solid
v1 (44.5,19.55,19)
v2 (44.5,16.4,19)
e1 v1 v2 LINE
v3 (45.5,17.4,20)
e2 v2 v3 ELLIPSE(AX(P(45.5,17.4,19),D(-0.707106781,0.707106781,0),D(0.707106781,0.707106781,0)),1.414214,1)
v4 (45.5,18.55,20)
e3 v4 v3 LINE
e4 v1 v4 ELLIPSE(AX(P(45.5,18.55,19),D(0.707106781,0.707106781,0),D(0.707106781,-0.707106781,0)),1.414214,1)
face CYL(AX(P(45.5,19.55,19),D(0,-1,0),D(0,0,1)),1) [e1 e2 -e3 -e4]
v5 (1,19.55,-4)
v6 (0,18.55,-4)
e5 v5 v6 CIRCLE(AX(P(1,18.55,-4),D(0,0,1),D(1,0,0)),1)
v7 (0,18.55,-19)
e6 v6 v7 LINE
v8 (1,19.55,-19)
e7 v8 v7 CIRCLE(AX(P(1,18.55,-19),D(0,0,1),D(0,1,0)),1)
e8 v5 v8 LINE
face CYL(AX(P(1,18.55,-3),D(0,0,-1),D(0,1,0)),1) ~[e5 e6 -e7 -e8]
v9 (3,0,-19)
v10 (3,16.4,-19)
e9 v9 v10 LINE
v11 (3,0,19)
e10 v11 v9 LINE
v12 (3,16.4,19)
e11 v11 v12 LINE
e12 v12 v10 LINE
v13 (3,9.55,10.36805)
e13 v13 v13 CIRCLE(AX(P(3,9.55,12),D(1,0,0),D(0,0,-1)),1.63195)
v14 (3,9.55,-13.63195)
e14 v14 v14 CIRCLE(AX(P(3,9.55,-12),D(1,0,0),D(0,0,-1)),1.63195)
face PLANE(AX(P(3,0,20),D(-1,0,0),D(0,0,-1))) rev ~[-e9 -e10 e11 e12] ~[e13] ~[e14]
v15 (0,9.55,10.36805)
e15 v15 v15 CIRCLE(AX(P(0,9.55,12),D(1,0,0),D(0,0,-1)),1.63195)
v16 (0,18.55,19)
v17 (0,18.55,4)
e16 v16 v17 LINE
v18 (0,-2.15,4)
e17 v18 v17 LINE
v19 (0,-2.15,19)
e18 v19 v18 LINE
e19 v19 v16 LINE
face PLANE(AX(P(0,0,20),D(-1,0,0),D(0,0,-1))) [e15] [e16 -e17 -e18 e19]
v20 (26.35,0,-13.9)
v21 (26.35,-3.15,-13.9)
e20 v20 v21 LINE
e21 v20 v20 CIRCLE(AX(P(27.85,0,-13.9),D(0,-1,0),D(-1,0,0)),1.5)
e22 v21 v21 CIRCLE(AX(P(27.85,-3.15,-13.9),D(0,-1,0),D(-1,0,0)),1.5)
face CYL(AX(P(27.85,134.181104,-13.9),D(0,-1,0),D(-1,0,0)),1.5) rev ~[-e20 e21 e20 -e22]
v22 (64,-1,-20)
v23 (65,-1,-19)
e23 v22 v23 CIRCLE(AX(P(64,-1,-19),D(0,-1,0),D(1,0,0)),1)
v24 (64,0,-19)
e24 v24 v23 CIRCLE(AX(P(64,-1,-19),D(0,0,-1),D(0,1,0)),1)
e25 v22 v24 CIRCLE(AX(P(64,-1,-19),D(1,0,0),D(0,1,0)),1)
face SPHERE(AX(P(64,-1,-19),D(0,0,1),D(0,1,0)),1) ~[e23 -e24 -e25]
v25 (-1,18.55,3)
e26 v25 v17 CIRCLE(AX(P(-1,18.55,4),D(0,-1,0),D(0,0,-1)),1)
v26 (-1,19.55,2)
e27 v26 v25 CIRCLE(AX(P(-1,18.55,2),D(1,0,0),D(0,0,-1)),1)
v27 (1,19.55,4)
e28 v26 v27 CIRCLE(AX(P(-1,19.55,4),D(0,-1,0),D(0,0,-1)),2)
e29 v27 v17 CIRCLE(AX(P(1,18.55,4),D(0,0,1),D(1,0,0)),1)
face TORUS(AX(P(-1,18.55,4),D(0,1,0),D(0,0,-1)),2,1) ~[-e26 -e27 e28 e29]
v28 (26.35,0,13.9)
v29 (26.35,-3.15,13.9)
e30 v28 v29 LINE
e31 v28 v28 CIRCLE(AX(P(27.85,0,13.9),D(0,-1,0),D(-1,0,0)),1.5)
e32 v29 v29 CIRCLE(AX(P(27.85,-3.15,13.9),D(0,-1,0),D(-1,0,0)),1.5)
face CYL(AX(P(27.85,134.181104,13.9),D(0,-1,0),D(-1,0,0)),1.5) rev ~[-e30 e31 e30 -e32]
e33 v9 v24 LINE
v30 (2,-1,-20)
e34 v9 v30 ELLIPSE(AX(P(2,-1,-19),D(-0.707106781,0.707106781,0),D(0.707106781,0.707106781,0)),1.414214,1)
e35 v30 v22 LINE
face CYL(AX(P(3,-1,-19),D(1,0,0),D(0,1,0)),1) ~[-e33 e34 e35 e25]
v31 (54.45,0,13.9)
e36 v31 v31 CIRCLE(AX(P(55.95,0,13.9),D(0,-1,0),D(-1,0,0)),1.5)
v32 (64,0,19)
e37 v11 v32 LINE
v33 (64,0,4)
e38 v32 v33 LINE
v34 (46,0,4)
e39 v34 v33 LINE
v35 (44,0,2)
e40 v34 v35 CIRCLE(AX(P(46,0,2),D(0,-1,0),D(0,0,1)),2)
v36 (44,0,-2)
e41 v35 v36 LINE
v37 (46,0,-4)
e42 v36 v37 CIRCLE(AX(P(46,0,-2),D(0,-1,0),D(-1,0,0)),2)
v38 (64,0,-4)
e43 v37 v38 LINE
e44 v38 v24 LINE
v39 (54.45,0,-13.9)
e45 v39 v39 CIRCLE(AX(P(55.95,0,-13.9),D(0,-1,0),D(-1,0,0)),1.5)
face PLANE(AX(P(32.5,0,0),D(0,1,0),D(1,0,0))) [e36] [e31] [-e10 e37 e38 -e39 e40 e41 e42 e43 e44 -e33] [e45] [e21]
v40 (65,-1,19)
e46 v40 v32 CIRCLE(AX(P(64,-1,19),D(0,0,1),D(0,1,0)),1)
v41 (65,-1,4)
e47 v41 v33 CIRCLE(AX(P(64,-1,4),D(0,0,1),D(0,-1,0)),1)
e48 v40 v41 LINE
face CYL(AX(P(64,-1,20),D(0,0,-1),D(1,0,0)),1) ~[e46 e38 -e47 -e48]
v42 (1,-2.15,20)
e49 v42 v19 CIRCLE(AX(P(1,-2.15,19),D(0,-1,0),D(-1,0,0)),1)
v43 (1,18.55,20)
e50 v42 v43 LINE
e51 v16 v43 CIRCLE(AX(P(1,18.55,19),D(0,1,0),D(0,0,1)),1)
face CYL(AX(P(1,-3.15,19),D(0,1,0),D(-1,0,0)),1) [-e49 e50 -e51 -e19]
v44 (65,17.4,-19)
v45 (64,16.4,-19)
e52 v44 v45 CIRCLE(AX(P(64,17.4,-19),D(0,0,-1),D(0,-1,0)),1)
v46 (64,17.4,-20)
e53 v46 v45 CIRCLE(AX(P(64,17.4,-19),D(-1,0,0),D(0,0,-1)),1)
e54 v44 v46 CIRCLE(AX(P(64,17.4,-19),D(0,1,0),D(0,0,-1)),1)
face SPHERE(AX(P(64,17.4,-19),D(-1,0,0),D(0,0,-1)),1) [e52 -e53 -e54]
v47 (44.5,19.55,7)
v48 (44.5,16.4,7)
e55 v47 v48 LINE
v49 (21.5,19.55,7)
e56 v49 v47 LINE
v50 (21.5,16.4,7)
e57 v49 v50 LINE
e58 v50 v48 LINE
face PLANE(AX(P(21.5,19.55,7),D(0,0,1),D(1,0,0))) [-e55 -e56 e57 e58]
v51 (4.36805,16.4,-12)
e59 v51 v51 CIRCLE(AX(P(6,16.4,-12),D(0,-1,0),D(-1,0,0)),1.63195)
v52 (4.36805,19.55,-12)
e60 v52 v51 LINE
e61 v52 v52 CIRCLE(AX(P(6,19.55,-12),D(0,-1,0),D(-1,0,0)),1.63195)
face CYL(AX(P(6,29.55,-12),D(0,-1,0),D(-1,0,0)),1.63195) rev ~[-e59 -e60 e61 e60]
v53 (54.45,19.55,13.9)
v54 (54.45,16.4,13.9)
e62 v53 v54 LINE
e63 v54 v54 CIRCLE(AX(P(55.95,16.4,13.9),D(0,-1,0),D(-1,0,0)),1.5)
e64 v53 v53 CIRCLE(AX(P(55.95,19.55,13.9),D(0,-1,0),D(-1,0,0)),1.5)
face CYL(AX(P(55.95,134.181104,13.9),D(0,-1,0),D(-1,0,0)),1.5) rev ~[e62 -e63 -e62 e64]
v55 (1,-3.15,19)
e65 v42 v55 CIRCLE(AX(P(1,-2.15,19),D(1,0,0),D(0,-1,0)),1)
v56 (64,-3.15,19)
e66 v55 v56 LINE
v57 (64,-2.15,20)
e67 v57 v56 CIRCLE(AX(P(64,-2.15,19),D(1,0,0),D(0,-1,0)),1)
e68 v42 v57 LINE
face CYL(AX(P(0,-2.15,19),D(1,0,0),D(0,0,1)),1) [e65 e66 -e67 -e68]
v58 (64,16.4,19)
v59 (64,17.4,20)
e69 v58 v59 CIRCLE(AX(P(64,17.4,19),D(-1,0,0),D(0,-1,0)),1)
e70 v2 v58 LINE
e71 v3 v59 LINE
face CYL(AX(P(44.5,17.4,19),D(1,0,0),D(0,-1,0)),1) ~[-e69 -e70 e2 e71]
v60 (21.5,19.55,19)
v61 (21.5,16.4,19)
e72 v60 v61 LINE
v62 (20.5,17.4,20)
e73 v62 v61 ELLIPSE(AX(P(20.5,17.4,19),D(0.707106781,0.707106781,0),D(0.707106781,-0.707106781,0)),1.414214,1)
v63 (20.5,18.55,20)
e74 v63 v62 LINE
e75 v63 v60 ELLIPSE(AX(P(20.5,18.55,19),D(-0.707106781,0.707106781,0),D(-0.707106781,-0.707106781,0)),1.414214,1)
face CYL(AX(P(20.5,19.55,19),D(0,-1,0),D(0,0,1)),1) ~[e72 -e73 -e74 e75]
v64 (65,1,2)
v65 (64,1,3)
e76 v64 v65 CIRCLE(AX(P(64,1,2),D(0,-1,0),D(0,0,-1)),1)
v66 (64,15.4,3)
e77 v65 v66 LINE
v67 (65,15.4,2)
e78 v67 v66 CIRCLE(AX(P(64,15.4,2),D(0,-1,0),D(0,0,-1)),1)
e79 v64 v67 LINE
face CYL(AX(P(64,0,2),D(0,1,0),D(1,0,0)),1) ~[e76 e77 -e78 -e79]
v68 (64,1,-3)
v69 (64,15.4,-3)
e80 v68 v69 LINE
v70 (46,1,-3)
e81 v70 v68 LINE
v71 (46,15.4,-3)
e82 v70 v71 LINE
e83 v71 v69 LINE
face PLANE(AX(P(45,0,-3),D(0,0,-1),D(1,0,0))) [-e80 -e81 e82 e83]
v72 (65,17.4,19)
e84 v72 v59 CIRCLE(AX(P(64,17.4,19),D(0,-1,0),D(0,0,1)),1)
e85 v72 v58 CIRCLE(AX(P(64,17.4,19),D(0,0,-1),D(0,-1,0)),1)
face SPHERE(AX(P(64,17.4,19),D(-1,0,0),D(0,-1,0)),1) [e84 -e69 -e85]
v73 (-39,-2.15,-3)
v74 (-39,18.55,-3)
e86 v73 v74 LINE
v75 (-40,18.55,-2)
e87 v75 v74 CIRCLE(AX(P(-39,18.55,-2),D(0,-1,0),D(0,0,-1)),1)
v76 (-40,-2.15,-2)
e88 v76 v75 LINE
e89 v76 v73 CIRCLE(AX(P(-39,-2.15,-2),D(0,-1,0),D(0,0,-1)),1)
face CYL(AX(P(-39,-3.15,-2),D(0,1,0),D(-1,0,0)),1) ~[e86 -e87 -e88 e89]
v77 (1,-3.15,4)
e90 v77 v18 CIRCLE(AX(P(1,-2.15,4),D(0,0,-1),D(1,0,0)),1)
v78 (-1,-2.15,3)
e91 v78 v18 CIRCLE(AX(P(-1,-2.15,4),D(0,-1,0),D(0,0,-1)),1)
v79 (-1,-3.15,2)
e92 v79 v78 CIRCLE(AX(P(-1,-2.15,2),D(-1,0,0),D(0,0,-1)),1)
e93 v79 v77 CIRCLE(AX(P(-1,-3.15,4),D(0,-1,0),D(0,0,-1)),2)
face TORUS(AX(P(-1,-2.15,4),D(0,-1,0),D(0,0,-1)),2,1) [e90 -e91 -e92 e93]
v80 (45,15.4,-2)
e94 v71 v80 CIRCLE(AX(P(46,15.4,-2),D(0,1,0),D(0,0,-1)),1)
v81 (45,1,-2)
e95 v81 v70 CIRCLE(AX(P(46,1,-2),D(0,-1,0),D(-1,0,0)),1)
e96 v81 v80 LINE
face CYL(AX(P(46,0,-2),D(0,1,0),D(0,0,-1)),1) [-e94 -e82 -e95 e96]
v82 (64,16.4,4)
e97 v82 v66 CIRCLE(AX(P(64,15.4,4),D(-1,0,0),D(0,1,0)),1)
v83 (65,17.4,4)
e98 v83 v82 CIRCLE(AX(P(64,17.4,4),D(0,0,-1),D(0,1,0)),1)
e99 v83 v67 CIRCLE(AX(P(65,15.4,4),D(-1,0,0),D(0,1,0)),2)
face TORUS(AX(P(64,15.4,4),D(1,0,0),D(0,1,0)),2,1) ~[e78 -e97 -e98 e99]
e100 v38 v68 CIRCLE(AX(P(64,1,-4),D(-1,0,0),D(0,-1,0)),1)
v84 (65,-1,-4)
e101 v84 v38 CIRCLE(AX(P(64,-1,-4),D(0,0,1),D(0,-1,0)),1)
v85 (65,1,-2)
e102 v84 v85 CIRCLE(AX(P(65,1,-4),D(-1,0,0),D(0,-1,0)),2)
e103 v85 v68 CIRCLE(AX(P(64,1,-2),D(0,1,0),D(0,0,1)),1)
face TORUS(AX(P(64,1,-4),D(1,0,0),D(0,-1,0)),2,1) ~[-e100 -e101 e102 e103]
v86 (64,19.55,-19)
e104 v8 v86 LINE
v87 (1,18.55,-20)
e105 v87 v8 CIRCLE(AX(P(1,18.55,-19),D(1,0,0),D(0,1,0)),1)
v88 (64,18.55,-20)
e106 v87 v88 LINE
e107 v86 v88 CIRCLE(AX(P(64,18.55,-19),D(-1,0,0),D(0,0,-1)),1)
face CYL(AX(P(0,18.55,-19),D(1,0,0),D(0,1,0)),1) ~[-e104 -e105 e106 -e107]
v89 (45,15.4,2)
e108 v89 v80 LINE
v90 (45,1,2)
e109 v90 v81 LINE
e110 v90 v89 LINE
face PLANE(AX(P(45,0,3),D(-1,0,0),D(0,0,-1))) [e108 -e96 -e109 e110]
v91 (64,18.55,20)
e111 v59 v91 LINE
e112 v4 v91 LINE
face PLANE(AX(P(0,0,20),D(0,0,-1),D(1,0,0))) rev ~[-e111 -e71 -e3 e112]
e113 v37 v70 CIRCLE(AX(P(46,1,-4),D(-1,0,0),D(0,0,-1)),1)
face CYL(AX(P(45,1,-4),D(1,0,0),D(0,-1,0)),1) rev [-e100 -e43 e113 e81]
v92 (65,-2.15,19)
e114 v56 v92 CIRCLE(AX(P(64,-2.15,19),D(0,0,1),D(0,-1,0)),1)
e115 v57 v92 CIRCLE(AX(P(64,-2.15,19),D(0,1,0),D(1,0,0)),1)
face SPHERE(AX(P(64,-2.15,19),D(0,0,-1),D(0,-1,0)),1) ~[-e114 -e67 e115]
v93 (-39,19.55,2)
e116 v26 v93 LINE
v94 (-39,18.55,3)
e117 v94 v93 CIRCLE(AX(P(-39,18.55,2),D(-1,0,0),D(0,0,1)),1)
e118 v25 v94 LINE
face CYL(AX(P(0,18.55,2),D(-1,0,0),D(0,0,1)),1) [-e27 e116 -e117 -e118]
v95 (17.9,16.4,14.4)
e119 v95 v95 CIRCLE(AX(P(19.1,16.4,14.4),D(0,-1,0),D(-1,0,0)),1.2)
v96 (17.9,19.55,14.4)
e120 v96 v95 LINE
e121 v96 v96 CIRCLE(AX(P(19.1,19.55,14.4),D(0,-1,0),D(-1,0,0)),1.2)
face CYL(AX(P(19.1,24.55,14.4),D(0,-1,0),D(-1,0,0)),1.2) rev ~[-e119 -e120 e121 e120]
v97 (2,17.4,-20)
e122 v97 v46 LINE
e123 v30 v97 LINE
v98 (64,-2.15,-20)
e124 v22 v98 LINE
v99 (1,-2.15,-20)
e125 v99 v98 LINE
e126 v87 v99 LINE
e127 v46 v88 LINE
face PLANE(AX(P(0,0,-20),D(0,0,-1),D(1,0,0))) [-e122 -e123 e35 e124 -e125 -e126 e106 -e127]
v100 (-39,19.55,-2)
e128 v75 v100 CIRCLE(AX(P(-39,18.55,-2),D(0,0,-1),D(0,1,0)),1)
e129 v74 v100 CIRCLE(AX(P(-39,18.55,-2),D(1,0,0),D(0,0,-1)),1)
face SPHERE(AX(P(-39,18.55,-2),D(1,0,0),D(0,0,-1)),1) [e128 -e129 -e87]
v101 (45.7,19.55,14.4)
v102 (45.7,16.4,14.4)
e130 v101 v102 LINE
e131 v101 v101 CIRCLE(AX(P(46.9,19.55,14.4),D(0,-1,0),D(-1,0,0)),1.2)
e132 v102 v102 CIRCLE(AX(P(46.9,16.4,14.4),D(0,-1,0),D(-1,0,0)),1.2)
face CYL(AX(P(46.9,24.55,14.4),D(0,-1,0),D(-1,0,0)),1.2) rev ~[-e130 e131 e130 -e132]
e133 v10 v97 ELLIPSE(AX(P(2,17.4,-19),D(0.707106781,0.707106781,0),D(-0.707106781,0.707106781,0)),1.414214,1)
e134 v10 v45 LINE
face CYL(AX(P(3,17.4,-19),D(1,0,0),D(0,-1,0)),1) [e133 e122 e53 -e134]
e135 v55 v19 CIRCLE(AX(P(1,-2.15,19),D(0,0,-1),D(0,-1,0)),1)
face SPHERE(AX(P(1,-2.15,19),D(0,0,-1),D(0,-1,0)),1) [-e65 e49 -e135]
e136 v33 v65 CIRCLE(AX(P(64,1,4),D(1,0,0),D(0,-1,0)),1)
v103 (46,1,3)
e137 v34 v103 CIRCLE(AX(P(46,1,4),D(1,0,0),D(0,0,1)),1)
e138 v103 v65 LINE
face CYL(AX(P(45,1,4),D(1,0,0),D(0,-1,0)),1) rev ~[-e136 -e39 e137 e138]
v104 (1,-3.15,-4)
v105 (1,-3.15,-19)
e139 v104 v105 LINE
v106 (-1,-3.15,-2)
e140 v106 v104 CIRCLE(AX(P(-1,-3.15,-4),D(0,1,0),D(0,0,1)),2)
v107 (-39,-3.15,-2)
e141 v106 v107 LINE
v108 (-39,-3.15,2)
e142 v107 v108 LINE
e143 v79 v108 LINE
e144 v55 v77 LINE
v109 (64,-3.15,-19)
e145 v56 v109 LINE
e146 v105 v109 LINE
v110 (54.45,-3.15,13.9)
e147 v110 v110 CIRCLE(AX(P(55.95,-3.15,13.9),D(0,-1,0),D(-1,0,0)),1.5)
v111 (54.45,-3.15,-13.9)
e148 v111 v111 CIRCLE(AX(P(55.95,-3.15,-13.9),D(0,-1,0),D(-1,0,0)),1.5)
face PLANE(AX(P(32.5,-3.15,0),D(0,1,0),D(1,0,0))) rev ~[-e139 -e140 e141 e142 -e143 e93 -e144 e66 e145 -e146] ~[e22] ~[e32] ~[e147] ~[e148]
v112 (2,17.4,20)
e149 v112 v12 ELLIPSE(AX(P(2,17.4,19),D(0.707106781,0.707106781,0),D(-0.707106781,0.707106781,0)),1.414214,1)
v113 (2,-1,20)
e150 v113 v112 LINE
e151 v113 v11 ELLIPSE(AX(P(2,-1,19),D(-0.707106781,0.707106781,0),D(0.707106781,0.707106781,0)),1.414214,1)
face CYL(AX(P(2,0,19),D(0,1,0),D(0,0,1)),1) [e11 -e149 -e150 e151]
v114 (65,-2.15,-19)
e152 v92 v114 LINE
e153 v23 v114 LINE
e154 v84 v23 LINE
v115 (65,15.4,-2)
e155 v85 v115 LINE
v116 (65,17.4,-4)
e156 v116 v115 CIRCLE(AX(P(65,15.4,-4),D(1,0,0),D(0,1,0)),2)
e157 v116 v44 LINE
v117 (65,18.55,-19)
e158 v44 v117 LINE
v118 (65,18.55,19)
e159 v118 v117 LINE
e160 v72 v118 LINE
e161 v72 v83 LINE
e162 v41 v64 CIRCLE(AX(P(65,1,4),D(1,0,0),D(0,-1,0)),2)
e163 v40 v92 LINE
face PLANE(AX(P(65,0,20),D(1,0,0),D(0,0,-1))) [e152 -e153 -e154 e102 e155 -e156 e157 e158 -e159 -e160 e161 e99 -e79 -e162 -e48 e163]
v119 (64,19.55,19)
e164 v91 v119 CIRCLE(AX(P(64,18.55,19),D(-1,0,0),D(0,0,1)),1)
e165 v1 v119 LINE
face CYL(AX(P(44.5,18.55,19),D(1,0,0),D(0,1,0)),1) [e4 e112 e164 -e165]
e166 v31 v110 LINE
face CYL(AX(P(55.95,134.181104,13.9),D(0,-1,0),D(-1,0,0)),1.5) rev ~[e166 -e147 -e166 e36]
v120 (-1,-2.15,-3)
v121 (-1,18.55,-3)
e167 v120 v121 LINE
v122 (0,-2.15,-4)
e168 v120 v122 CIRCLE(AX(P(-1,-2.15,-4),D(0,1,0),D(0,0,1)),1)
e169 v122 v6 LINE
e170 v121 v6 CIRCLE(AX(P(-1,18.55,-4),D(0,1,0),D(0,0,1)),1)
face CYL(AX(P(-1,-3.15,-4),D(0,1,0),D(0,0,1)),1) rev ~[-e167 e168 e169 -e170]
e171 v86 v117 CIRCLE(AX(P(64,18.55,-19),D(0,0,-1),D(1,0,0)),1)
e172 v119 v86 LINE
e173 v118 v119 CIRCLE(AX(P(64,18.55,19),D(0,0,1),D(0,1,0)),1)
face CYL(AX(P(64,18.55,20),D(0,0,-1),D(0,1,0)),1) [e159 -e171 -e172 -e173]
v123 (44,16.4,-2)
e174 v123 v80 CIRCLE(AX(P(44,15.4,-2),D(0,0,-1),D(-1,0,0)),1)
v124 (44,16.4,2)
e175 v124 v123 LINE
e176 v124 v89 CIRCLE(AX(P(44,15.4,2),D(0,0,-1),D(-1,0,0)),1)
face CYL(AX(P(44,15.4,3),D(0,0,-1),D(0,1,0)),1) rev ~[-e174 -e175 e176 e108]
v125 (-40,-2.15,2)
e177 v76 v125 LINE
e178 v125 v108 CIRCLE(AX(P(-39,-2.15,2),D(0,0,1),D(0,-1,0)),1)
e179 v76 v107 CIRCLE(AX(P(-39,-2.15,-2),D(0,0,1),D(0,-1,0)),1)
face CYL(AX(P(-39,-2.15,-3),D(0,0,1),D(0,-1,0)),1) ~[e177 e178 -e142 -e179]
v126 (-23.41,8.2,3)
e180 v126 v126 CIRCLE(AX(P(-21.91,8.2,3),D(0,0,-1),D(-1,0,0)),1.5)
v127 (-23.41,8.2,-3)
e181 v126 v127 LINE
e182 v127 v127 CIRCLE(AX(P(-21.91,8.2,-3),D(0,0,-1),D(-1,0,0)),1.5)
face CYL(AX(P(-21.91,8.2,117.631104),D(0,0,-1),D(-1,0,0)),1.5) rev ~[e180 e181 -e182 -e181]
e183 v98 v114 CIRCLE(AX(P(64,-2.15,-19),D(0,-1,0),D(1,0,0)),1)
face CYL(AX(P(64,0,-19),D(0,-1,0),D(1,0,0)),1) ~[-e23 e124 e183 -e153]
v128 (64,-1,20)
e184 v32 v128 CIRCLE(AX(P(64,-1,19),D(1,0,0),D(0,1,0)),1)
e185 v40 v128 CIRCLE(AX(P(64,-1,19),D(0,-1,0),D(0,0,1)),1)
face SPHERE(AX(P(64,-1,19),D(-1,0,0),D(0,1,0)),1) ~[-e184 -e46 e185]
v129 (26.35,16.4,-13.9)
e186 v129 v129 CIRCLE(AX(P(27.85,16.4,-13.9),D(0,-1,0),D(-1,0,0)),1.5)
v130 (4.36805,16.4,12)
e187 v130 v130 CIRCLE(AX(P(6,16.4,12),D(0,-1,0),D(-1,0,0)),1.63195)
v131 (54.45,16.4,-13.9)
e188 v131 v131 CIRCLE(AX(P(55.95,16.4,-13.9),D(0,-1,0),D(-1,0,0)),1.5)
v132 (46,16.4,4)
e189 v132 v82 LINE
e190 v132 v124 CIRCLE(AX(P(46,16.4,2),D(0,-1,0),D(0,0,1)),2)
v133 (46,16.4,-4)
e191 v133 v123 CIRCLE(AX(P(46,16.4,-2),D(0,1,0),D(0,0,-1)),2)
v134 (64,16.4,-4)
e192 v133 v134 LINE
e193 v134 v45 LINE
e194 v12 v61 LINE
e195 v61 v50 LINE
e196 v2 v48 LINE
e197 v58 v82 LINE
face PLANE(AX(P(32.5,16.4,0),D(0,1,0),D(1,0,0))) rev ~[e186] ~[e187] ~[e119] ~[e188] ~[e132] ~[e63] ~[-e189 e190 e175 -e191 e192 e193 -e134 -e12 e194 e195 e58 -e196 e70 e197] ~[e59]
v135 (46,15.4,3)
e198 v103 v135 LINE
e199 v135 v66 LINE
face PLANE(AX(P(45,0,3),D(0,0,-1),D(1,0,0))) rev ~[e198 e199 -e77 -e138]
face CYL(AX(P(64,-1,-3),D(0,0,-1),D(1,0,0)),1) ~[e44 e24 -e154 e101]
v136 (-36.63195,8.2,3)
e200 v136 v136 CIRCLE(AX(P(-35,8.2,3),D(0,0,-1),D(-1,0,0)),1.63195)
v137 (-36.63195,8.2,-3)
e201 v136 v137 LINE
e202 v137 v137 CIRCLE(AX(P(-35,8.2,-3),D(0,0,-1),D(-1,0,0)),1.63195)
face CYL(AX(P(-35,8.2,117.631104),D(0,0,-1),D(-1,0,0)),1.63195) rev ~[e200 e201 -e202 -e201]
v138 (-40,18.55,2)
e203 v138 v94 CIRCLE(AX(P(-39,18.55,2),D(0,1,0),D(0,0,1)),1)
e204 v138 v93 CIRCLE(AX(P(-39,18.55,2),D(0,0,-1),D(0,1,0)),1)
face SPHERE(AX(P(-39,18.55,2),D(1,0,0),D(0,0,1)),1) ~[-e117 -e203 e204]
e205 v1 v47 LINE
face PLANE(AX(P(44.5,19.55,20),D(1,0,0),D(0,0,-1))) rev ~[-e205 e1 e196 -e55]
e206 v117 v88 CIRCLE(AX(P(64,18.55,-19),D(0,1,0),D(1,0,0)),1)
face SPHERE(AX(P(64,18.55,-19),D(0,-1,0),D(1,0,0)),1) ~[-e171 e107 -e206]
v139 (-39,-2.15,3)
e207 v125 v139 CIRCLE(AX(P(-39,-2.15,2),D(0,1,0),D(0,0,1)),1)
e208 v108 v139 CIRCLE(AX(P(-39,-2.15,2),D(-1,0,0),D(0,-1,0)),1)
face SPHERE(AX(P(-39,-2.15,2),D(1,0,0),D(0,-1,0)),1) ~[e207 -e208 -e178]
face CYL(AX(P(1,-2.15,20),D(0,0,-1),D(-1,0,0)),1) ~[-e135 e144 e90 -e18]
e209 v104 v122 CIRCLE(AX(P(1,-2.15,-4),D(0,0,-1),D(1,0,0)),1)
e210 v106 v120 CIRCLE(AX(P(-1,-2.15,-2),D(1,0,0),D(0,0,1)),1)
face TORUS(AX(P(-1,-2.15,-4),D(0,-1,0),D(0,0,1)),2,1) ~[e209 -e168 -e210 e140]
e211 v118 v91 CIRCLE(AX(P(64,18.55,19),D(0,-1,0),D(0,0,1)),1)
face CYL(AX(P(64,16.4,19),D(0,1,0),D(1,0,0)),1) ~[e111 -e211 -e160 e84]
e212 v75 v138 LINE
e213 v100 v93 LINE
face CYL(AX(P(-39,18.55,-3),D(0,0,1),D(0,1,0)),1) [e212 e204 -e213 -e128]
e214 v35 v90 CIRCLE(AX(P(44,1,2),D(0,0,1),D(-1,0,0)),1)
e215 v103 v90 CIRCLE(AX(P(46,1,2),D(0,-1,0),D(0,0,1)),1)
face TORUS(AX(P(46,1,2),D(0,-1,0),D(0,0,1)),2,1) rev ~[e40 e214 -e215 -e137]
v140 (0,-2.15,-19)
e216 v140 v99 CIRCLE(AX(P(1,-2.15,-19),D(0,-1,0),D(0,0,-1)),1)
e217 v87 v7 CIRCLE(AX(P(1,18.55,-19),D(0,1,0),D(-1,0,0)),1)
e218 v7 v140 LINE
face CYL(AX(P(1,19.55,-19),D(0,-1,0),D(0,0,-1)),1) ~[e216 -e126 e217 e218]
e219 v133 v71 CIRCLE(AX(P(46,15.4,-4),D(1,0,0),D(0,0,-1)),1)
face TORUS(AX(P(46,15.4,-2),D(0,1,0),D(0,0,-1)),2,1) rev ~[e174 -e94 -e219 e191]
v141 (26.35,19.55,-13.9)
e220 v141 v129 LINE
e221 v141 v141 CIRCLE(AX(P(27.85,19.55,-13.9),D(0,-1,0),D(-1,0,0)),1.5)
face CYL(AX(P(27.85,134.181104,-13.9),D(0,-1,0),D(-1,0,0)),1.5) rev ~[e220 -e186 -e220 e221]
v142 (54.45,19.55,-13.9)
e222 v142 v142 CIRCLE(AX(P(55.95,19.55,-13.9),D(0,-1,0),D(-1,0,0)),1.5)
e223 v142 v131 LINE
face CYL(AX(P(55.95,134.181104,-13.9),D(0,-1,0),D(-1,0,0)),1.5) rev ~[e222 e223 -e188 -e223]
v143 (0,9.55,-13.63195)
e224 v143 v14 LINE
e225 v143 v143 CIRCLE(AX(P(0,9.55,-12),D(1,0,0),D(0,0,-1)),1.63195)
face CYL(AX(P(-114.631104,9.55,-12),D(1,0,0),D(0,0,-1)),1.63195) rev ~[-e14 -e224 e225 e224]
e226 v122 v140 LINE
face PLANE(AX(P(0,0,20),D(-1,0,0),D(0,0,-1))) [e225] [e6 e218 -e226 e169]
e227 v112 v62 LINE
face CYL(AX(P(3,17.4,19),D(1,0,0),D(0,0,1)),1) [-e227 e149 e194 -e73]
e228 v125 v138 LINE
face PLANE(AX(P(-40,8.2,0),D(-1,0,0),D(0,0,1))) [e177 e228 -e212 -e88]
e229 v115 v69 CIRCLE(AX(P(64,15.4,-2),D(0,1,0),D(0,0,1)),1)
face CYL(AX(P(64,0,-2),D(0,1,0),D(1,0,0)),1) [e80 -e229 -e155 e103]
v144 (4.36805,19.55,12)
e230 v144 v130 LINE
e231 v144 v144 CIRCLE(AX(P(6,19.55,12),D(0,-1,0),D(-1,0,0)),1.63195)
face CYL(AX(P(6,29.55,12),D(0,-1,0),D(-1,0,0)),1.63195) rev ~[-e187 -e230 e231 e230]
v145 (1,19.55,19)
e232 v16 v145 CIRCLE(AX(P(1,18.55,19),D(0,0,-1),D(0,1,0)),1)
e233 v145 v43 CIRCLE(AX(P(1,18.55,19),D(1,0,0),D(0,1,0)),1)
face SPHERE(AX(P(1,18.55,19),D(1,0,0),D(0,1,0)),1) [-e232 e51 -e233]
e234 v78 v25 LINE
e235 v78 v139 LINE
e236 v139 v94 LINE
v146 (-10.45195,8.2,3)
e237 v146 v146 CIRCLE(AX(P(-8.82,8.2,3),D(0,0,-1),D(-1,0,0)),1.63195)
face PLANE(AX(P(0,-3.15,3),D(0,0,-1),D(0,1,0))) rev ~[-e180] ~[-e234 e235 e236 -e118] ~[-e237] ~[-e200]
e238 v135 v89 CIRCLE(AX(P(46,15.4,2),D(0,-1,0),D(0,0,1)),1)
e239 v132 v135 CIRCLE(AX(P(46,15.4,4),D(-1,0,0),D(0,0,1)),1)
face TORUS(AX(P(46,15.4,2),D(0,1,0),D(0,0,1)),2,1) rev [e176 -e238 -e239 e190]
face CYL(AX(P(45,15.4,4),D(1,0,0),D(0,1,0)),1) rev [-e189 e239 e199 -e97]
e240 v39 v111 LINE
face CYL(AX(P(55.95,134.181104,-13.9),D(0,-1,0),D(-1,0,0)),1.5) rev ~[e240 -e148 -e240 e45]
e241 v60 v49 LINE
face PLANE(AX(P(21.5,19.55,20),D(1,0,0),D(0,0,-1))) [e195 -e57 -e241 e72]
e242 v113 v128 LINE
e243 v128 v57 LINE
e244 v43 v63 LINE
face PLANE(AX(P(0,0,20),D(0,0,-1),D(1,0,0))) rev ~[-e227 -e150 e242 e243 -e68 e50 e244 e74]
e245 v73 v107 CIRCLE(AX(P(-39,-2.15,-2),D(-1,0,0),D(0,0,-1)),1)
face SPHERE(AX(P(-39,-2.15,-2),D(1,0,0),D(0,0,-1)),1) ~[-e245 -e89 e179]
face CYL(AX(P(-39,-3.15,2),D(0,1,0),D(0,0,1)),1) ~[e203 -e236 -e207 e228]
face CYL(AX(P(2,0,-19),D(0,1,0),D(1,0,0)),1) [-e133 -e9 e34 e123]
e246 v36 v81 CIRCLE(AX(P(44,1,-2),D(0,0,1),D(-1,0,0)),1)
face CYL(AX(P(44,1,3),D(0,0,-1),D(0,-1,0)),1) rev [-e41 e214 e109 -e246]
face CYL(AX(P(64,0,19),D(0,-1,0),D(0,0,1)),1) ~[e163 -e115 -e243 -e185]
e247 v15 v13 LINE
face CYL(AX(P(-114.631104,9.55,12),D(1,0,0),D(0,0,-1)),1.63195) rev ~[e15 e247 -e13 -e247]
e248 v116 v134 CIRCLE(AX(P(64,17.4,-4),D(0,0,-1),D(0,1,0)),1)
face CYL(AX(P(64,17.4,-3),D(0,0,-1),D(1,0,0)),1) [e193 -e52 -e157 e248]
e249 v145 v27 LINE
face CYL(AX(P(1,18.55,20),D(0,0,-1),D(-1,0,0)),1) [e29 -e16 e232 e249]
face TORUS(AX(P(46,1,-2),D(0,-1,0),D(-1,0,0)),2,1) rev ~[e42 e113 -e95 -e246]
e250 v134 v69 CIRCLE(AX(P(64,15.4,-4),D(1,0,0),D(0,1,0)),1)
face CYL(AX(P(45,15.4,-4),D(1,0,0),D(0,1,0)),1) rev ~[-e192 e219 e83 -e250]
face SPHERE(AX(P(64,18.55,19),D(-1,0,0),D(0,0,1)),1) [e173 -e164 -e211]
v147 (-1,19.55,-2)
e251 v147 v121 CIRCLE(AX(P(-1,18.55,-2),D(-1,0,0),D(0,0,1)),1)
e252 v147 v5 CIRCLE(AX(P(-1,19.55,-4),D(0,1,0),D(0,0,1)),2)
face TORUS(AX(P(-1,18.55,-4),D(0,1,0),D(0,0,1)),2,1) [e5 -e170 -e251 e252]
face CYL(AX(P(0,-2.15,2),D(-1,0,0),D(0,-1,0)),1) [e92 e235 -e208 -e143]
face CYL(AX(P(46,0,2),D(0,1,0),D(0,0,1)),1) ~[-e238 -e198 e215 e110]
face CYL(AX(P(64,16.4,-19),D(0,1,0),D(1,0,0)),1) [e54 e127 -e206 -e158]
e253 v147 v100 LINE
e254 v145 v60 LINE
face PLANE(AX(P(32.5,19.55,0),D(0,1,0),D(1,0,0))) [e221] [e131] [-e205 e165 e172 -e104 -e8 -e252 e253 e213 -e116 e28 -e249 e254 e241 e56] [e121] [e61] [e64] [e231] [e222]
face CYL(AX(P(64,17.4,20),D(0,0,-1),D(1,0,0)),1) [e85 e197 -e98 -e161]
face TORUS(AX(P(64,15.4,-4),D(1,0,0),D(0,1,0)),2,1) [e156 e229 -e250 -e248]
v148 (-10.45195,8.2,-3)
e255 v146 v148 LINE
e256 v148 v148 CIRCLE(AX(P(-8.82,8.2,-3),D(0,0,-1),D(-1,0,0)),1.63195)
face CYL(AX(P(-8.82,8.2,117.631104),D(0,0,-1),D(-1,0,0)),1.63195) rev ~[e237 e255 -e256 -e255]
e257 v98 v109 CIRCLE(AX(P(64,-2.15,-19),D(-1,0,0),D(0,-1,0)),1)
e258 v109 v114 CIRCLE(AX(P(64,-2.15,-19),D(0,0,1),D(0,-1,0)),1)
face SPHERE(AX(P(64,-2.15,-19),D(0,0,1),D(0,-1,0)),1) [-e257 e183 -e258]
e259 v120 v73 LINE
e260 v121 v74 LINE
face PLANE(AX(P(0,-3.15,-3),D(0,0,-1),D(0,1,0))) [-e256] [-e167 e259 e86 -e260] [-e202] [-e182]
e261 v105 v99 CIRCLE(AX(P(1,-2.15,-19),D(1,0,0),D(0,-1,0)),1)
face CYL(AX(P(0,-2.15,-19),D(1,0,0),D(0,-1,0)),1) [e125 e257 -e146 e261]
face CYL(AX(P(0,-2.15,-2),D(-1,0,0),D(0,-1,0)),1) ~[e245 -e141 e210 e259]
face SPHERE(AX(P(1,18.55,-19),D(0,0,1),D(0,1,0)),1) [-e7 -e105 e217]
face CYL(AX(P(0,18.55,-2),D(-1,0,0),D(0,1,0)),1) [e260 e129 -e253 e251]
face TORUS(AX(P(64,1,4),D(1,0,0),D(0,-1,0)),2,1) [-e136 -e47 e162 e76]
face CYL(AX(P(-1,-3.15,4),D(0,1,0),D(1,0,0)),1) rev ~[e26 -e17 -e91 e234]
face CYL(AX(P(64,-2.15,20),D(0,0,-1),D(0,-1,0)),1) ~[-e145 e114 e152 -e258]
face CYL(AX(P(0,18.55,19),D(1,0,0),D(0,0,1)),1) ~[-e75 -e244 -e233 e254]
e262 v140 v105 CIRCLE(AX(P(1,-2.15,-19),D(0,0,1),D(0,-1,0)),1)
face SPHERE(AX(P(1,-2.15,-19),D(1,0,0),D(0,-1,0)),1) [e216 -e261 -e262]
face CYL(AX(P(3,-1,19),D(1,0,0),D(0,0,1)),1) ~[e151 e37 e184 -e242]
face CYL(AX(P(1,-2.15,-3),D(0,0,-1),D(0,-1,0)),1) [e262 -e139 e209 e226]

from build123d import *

# Parameters (mm, degrees)
SKETCH1_W                 = 65
SKETCH1_H                 = 40
BOSS_EXTRUDE1_DEPTH       = 3.15
BOSS_EXTRUDE2_START       = 16.4
SKETCH1_2_W               = 65
SKETCH1_2_H               = 40
BOSS_EXTRUDE2_DEPTH       = 3.15
SKETCH2_W                 = 3
SKETCH2_H                 = 40
SKETCH2_W_2               = 20
SKETCH2_H_2               = 6
BOSS_EXTRUDE3_DEPTH       = 16.4
SKETCH3_W                 = 6
SKETCH3_H                 = 22.7
BOSS_EXTRUDE4_DEPTH       = 40
M2_CLEARANCE_HOLE1_D      = 2.4
M2_CLEARANCE_HOLE1_DEPTH  = 5
M2_CLEARANCE_HOLE1_TIP    = 0.721032743
F_3_0MM_DOWEL_HOLE1_D     = 3
SKETCH5_W                 = 23
SKETCH5_H                 = 13
CUT_EXTRUDE1_DEPTH        = 7
FILLET1_R                 = 1
F_4_CLEARANCE_HOLE1_D     = 3.2639
F_3_0MM_DOWEL_HOLE2_D     = 3
F_4_CLEARANCE_HOLE2_D     = 3.2639
F_4_CLEARANCE_HOLE2_DEPTH = 10
F_4_CLEARANCE_HOLE2_TIP   = 0.980574487
F_4_CLEARANCE_HOLE3_D     = 3.2639


with BuildPart() as part:
    # Sketch1 → Boss-Extrude1 (new body)
    with BuildSketch(Plane(origin=(0, 0, 0), x_dir=(1, 0, 0), z_dir=(0, 1, 0))):
        with Locations((32.5, 0)):
            Rectangle(SKETCH1_W, SKETCH1_H)
    extrude(amount=-BOSS_EXTRUDE1_DEPTH)



with BuildPart() as body_2:
    # Sketch1<2> → Boss-Extrude2 (new body)
    with BuildSketch(Plane(origin=(0, 0, 0), x_dir=(1, 0, 0), z_dir=(0, 1, 0)).offset(BOSS_EXTRUDE2_START)):
        with Locations((32.5, 0)):
            Rectangle(SKETCH1_2_W, SKETCH1_2_H)
    extrude(amount=BOSS_EXTRUDE2_DEPTH)


with BuildPart() as part_1:
    add(part.part)

    add(body_2.part)  # Boss-Extrude3 merges body 2
    # Sketch2 → Boss-Extrude3 (add)
    with BuildSketch(Plane(origin=(0, 0, 0), x_dir=(1, 0, 0), z_dir=(0, 1, 0))):
        with Locations((1.5, 0)):
            Rectangle(SKETCH2_W, SKETCH2_H)
        with Locations((55, 0)):
            Rectangle(SKETCH2_W_2, SKETCH2_H_2)
    extrude(amount=BOSS_EXTRUDE3_DEPTH)

    # Sketch3 → Boss-Extrude4 (add)
    with BuildSketch(Plane.ZY):
        with Locations((0, 8.2)):
            Rectangle(SKETCH3_W, SKETCH3_H)
    extrude(amount=BOSS_EXTRUDE4_DEPTH)

    # M2 Clearance Hole1
    with Locations(Plane(origin=(0, 19.55, 0), x_dir=(1, 0, 0), z_dir=(0, 1, 0))):
        with Locations((19.1, -14.4), (46.9, -14.4)):
            Hole(M2_CLEARANCE_HOLE1_D / 2, depth=M2_CLEARANCE_HOLE1_DEPTH)
            with Locations((0, 0, -(M2_CLEARANCE_HOLE1_DEPTH + M2_CLEARANCE_HOLE1_TIP / 2))):  # 118° drill point
                Cone(0, M2_CLEARANCE_HOLE1_D / 2, M2_CLEARANCE_HOLE1_TIP, mode=Mode.SUBTRACT)

    # Ø3.0mm Dowel Hole1 (through all)
    with Locations(Plane(origin=(0, 19.55, 0), x_dir=(1, 0, 0), z_dir=(0, 1, 0))):
        with Locations((55.95, -13.9), (27.85, 13.9), (55.95, 13.9), (27.85, -13.9)):
            Hole(F_3_0MM_DOWEL_HOLE1_D / 2)

    # Sketch5 → Cut-Extrude1 (cut)
    with BuildSketch(Plane(origin=(0, 19.55, 0), x_dir=(1, 0, 0), z_dir=(0, 1, 0))):
        with Locations((33, -13.5)):
            Rectangle(SKETCH5_W, SKETCH5_H)
    extrude(amount=-CUT_EXTRUDE1_DEPTH, mode=Mode.SUBTRACT)

    # Fillet1
    fillet1_edges = [part_1.edges().sort_by_distance(p)[0] for p in [
        (65, -3.15, 0),
        (54.75, 19.55, 20),
        (54.75, 16.4, 20),
        (21.5, 17.975, 20),
        (44.5, 17.975, 20),
        (32.5, -3.15, -20),
        (34, 0, 20),
        (3, 8.2, 20),
        (3, 8.2, -20),
        (12.25, 16.4, 20),
        (65, 16.4, 11.5),
        (65, 17.975, 20),
        (34, 16.4, -20),
        (65, 17.975, -20),
        (0, 19.55, -11.5),
        (10.75, 19.55, 20),
        (65, 19.55, 0),
        (32.5, 19.55, -20),
        (65, 16.4, -11.5),
        (65, 0, -11.5),
        (65, 8.2, 3),
        (65, 8.2, -3),
        (55, 0, -3),
        (45, 8.2, -3),
        (45, 0, 0),
        (45, 8.2, 3),
        (55, 0, 3),
        (55, 16.4, 3),
        (55, 16.4, -3),
        (45, 16.4, 0),
        (0, -3.15, -11.5),
        (34, 0, -20),
        (0, 19.55, 11.5),
        (0, -3.15, 11.5),
        (65, 0, 11.5),
        (0, 8.2, -3),
        (-20, 19.55, -3),
        (-20, -3.15, -3),
        (0, 8.2, 3),
        (-20, -3.15, 3),
        (-20, 19.55, 3),
        (-40, 8.2, -3),
        (-40, -3.15, 0),
        (-40, 8.2, 3),
        (-40, 19.55, 0),
        (32.5, -3.15, 20),
        (0, 8.2, -20),
        (65, -1.575, -20),
        (65, -1.575, 20),
        (0, 8.2, 20),
    ]]
    fillet(fillet1_edges, radius=FILLET1_R)

    # #4 Clearance Hole1 (through all)
    with Locations(Plane.XY.offset(3)):
        with Locations((-35, 8.2), (-8.82, 8.2)):
            Hole(F_4_CLEARANCE_HOLE1_D / 2)

    # Ø3.0mm Dowel Hole2 (through all)
    with Locations(Plane.XY.offset(3)):
        with Locations((-21.91, 8.2)):
            Hole(F_3_0MM_DOWEL_HOLE2_D / 2)

    # #4 Clearance Hole2
    with Locations(Plane(origin=(0, 19.55, 0), x_dir=(1, 0, 0), z_dir=(0, 1, 0))):
        with Locations((6, 12), (6, -12)):
            Hole(F_4_CLEARANCE_HOLE2_D / 2, depth=F_4_CLEARANCE_HOLE2_DEPTH)
            with Locations((0, 0, -(F_4_CLEARANCE_HOLE2_DEPTH + F_4_CLEARANCE_HOLE2_TIP / 2))):  # 118° drill point
                Cone(0, F_4_CLEARANCE_HOLE2_D / 2, F_4_CLEARANCE_HOLE2_TIP, mode=Mode.SUBTRACT)

    # #4 Clearance Hole3 (through all)
    with Locations(Plane.ZY):
        with Locations((-12, 9.55), (12, 9.55)):
            Hole(F_4_CLEARANCE_HOLE3_D / 2)


solid = part_1.part
